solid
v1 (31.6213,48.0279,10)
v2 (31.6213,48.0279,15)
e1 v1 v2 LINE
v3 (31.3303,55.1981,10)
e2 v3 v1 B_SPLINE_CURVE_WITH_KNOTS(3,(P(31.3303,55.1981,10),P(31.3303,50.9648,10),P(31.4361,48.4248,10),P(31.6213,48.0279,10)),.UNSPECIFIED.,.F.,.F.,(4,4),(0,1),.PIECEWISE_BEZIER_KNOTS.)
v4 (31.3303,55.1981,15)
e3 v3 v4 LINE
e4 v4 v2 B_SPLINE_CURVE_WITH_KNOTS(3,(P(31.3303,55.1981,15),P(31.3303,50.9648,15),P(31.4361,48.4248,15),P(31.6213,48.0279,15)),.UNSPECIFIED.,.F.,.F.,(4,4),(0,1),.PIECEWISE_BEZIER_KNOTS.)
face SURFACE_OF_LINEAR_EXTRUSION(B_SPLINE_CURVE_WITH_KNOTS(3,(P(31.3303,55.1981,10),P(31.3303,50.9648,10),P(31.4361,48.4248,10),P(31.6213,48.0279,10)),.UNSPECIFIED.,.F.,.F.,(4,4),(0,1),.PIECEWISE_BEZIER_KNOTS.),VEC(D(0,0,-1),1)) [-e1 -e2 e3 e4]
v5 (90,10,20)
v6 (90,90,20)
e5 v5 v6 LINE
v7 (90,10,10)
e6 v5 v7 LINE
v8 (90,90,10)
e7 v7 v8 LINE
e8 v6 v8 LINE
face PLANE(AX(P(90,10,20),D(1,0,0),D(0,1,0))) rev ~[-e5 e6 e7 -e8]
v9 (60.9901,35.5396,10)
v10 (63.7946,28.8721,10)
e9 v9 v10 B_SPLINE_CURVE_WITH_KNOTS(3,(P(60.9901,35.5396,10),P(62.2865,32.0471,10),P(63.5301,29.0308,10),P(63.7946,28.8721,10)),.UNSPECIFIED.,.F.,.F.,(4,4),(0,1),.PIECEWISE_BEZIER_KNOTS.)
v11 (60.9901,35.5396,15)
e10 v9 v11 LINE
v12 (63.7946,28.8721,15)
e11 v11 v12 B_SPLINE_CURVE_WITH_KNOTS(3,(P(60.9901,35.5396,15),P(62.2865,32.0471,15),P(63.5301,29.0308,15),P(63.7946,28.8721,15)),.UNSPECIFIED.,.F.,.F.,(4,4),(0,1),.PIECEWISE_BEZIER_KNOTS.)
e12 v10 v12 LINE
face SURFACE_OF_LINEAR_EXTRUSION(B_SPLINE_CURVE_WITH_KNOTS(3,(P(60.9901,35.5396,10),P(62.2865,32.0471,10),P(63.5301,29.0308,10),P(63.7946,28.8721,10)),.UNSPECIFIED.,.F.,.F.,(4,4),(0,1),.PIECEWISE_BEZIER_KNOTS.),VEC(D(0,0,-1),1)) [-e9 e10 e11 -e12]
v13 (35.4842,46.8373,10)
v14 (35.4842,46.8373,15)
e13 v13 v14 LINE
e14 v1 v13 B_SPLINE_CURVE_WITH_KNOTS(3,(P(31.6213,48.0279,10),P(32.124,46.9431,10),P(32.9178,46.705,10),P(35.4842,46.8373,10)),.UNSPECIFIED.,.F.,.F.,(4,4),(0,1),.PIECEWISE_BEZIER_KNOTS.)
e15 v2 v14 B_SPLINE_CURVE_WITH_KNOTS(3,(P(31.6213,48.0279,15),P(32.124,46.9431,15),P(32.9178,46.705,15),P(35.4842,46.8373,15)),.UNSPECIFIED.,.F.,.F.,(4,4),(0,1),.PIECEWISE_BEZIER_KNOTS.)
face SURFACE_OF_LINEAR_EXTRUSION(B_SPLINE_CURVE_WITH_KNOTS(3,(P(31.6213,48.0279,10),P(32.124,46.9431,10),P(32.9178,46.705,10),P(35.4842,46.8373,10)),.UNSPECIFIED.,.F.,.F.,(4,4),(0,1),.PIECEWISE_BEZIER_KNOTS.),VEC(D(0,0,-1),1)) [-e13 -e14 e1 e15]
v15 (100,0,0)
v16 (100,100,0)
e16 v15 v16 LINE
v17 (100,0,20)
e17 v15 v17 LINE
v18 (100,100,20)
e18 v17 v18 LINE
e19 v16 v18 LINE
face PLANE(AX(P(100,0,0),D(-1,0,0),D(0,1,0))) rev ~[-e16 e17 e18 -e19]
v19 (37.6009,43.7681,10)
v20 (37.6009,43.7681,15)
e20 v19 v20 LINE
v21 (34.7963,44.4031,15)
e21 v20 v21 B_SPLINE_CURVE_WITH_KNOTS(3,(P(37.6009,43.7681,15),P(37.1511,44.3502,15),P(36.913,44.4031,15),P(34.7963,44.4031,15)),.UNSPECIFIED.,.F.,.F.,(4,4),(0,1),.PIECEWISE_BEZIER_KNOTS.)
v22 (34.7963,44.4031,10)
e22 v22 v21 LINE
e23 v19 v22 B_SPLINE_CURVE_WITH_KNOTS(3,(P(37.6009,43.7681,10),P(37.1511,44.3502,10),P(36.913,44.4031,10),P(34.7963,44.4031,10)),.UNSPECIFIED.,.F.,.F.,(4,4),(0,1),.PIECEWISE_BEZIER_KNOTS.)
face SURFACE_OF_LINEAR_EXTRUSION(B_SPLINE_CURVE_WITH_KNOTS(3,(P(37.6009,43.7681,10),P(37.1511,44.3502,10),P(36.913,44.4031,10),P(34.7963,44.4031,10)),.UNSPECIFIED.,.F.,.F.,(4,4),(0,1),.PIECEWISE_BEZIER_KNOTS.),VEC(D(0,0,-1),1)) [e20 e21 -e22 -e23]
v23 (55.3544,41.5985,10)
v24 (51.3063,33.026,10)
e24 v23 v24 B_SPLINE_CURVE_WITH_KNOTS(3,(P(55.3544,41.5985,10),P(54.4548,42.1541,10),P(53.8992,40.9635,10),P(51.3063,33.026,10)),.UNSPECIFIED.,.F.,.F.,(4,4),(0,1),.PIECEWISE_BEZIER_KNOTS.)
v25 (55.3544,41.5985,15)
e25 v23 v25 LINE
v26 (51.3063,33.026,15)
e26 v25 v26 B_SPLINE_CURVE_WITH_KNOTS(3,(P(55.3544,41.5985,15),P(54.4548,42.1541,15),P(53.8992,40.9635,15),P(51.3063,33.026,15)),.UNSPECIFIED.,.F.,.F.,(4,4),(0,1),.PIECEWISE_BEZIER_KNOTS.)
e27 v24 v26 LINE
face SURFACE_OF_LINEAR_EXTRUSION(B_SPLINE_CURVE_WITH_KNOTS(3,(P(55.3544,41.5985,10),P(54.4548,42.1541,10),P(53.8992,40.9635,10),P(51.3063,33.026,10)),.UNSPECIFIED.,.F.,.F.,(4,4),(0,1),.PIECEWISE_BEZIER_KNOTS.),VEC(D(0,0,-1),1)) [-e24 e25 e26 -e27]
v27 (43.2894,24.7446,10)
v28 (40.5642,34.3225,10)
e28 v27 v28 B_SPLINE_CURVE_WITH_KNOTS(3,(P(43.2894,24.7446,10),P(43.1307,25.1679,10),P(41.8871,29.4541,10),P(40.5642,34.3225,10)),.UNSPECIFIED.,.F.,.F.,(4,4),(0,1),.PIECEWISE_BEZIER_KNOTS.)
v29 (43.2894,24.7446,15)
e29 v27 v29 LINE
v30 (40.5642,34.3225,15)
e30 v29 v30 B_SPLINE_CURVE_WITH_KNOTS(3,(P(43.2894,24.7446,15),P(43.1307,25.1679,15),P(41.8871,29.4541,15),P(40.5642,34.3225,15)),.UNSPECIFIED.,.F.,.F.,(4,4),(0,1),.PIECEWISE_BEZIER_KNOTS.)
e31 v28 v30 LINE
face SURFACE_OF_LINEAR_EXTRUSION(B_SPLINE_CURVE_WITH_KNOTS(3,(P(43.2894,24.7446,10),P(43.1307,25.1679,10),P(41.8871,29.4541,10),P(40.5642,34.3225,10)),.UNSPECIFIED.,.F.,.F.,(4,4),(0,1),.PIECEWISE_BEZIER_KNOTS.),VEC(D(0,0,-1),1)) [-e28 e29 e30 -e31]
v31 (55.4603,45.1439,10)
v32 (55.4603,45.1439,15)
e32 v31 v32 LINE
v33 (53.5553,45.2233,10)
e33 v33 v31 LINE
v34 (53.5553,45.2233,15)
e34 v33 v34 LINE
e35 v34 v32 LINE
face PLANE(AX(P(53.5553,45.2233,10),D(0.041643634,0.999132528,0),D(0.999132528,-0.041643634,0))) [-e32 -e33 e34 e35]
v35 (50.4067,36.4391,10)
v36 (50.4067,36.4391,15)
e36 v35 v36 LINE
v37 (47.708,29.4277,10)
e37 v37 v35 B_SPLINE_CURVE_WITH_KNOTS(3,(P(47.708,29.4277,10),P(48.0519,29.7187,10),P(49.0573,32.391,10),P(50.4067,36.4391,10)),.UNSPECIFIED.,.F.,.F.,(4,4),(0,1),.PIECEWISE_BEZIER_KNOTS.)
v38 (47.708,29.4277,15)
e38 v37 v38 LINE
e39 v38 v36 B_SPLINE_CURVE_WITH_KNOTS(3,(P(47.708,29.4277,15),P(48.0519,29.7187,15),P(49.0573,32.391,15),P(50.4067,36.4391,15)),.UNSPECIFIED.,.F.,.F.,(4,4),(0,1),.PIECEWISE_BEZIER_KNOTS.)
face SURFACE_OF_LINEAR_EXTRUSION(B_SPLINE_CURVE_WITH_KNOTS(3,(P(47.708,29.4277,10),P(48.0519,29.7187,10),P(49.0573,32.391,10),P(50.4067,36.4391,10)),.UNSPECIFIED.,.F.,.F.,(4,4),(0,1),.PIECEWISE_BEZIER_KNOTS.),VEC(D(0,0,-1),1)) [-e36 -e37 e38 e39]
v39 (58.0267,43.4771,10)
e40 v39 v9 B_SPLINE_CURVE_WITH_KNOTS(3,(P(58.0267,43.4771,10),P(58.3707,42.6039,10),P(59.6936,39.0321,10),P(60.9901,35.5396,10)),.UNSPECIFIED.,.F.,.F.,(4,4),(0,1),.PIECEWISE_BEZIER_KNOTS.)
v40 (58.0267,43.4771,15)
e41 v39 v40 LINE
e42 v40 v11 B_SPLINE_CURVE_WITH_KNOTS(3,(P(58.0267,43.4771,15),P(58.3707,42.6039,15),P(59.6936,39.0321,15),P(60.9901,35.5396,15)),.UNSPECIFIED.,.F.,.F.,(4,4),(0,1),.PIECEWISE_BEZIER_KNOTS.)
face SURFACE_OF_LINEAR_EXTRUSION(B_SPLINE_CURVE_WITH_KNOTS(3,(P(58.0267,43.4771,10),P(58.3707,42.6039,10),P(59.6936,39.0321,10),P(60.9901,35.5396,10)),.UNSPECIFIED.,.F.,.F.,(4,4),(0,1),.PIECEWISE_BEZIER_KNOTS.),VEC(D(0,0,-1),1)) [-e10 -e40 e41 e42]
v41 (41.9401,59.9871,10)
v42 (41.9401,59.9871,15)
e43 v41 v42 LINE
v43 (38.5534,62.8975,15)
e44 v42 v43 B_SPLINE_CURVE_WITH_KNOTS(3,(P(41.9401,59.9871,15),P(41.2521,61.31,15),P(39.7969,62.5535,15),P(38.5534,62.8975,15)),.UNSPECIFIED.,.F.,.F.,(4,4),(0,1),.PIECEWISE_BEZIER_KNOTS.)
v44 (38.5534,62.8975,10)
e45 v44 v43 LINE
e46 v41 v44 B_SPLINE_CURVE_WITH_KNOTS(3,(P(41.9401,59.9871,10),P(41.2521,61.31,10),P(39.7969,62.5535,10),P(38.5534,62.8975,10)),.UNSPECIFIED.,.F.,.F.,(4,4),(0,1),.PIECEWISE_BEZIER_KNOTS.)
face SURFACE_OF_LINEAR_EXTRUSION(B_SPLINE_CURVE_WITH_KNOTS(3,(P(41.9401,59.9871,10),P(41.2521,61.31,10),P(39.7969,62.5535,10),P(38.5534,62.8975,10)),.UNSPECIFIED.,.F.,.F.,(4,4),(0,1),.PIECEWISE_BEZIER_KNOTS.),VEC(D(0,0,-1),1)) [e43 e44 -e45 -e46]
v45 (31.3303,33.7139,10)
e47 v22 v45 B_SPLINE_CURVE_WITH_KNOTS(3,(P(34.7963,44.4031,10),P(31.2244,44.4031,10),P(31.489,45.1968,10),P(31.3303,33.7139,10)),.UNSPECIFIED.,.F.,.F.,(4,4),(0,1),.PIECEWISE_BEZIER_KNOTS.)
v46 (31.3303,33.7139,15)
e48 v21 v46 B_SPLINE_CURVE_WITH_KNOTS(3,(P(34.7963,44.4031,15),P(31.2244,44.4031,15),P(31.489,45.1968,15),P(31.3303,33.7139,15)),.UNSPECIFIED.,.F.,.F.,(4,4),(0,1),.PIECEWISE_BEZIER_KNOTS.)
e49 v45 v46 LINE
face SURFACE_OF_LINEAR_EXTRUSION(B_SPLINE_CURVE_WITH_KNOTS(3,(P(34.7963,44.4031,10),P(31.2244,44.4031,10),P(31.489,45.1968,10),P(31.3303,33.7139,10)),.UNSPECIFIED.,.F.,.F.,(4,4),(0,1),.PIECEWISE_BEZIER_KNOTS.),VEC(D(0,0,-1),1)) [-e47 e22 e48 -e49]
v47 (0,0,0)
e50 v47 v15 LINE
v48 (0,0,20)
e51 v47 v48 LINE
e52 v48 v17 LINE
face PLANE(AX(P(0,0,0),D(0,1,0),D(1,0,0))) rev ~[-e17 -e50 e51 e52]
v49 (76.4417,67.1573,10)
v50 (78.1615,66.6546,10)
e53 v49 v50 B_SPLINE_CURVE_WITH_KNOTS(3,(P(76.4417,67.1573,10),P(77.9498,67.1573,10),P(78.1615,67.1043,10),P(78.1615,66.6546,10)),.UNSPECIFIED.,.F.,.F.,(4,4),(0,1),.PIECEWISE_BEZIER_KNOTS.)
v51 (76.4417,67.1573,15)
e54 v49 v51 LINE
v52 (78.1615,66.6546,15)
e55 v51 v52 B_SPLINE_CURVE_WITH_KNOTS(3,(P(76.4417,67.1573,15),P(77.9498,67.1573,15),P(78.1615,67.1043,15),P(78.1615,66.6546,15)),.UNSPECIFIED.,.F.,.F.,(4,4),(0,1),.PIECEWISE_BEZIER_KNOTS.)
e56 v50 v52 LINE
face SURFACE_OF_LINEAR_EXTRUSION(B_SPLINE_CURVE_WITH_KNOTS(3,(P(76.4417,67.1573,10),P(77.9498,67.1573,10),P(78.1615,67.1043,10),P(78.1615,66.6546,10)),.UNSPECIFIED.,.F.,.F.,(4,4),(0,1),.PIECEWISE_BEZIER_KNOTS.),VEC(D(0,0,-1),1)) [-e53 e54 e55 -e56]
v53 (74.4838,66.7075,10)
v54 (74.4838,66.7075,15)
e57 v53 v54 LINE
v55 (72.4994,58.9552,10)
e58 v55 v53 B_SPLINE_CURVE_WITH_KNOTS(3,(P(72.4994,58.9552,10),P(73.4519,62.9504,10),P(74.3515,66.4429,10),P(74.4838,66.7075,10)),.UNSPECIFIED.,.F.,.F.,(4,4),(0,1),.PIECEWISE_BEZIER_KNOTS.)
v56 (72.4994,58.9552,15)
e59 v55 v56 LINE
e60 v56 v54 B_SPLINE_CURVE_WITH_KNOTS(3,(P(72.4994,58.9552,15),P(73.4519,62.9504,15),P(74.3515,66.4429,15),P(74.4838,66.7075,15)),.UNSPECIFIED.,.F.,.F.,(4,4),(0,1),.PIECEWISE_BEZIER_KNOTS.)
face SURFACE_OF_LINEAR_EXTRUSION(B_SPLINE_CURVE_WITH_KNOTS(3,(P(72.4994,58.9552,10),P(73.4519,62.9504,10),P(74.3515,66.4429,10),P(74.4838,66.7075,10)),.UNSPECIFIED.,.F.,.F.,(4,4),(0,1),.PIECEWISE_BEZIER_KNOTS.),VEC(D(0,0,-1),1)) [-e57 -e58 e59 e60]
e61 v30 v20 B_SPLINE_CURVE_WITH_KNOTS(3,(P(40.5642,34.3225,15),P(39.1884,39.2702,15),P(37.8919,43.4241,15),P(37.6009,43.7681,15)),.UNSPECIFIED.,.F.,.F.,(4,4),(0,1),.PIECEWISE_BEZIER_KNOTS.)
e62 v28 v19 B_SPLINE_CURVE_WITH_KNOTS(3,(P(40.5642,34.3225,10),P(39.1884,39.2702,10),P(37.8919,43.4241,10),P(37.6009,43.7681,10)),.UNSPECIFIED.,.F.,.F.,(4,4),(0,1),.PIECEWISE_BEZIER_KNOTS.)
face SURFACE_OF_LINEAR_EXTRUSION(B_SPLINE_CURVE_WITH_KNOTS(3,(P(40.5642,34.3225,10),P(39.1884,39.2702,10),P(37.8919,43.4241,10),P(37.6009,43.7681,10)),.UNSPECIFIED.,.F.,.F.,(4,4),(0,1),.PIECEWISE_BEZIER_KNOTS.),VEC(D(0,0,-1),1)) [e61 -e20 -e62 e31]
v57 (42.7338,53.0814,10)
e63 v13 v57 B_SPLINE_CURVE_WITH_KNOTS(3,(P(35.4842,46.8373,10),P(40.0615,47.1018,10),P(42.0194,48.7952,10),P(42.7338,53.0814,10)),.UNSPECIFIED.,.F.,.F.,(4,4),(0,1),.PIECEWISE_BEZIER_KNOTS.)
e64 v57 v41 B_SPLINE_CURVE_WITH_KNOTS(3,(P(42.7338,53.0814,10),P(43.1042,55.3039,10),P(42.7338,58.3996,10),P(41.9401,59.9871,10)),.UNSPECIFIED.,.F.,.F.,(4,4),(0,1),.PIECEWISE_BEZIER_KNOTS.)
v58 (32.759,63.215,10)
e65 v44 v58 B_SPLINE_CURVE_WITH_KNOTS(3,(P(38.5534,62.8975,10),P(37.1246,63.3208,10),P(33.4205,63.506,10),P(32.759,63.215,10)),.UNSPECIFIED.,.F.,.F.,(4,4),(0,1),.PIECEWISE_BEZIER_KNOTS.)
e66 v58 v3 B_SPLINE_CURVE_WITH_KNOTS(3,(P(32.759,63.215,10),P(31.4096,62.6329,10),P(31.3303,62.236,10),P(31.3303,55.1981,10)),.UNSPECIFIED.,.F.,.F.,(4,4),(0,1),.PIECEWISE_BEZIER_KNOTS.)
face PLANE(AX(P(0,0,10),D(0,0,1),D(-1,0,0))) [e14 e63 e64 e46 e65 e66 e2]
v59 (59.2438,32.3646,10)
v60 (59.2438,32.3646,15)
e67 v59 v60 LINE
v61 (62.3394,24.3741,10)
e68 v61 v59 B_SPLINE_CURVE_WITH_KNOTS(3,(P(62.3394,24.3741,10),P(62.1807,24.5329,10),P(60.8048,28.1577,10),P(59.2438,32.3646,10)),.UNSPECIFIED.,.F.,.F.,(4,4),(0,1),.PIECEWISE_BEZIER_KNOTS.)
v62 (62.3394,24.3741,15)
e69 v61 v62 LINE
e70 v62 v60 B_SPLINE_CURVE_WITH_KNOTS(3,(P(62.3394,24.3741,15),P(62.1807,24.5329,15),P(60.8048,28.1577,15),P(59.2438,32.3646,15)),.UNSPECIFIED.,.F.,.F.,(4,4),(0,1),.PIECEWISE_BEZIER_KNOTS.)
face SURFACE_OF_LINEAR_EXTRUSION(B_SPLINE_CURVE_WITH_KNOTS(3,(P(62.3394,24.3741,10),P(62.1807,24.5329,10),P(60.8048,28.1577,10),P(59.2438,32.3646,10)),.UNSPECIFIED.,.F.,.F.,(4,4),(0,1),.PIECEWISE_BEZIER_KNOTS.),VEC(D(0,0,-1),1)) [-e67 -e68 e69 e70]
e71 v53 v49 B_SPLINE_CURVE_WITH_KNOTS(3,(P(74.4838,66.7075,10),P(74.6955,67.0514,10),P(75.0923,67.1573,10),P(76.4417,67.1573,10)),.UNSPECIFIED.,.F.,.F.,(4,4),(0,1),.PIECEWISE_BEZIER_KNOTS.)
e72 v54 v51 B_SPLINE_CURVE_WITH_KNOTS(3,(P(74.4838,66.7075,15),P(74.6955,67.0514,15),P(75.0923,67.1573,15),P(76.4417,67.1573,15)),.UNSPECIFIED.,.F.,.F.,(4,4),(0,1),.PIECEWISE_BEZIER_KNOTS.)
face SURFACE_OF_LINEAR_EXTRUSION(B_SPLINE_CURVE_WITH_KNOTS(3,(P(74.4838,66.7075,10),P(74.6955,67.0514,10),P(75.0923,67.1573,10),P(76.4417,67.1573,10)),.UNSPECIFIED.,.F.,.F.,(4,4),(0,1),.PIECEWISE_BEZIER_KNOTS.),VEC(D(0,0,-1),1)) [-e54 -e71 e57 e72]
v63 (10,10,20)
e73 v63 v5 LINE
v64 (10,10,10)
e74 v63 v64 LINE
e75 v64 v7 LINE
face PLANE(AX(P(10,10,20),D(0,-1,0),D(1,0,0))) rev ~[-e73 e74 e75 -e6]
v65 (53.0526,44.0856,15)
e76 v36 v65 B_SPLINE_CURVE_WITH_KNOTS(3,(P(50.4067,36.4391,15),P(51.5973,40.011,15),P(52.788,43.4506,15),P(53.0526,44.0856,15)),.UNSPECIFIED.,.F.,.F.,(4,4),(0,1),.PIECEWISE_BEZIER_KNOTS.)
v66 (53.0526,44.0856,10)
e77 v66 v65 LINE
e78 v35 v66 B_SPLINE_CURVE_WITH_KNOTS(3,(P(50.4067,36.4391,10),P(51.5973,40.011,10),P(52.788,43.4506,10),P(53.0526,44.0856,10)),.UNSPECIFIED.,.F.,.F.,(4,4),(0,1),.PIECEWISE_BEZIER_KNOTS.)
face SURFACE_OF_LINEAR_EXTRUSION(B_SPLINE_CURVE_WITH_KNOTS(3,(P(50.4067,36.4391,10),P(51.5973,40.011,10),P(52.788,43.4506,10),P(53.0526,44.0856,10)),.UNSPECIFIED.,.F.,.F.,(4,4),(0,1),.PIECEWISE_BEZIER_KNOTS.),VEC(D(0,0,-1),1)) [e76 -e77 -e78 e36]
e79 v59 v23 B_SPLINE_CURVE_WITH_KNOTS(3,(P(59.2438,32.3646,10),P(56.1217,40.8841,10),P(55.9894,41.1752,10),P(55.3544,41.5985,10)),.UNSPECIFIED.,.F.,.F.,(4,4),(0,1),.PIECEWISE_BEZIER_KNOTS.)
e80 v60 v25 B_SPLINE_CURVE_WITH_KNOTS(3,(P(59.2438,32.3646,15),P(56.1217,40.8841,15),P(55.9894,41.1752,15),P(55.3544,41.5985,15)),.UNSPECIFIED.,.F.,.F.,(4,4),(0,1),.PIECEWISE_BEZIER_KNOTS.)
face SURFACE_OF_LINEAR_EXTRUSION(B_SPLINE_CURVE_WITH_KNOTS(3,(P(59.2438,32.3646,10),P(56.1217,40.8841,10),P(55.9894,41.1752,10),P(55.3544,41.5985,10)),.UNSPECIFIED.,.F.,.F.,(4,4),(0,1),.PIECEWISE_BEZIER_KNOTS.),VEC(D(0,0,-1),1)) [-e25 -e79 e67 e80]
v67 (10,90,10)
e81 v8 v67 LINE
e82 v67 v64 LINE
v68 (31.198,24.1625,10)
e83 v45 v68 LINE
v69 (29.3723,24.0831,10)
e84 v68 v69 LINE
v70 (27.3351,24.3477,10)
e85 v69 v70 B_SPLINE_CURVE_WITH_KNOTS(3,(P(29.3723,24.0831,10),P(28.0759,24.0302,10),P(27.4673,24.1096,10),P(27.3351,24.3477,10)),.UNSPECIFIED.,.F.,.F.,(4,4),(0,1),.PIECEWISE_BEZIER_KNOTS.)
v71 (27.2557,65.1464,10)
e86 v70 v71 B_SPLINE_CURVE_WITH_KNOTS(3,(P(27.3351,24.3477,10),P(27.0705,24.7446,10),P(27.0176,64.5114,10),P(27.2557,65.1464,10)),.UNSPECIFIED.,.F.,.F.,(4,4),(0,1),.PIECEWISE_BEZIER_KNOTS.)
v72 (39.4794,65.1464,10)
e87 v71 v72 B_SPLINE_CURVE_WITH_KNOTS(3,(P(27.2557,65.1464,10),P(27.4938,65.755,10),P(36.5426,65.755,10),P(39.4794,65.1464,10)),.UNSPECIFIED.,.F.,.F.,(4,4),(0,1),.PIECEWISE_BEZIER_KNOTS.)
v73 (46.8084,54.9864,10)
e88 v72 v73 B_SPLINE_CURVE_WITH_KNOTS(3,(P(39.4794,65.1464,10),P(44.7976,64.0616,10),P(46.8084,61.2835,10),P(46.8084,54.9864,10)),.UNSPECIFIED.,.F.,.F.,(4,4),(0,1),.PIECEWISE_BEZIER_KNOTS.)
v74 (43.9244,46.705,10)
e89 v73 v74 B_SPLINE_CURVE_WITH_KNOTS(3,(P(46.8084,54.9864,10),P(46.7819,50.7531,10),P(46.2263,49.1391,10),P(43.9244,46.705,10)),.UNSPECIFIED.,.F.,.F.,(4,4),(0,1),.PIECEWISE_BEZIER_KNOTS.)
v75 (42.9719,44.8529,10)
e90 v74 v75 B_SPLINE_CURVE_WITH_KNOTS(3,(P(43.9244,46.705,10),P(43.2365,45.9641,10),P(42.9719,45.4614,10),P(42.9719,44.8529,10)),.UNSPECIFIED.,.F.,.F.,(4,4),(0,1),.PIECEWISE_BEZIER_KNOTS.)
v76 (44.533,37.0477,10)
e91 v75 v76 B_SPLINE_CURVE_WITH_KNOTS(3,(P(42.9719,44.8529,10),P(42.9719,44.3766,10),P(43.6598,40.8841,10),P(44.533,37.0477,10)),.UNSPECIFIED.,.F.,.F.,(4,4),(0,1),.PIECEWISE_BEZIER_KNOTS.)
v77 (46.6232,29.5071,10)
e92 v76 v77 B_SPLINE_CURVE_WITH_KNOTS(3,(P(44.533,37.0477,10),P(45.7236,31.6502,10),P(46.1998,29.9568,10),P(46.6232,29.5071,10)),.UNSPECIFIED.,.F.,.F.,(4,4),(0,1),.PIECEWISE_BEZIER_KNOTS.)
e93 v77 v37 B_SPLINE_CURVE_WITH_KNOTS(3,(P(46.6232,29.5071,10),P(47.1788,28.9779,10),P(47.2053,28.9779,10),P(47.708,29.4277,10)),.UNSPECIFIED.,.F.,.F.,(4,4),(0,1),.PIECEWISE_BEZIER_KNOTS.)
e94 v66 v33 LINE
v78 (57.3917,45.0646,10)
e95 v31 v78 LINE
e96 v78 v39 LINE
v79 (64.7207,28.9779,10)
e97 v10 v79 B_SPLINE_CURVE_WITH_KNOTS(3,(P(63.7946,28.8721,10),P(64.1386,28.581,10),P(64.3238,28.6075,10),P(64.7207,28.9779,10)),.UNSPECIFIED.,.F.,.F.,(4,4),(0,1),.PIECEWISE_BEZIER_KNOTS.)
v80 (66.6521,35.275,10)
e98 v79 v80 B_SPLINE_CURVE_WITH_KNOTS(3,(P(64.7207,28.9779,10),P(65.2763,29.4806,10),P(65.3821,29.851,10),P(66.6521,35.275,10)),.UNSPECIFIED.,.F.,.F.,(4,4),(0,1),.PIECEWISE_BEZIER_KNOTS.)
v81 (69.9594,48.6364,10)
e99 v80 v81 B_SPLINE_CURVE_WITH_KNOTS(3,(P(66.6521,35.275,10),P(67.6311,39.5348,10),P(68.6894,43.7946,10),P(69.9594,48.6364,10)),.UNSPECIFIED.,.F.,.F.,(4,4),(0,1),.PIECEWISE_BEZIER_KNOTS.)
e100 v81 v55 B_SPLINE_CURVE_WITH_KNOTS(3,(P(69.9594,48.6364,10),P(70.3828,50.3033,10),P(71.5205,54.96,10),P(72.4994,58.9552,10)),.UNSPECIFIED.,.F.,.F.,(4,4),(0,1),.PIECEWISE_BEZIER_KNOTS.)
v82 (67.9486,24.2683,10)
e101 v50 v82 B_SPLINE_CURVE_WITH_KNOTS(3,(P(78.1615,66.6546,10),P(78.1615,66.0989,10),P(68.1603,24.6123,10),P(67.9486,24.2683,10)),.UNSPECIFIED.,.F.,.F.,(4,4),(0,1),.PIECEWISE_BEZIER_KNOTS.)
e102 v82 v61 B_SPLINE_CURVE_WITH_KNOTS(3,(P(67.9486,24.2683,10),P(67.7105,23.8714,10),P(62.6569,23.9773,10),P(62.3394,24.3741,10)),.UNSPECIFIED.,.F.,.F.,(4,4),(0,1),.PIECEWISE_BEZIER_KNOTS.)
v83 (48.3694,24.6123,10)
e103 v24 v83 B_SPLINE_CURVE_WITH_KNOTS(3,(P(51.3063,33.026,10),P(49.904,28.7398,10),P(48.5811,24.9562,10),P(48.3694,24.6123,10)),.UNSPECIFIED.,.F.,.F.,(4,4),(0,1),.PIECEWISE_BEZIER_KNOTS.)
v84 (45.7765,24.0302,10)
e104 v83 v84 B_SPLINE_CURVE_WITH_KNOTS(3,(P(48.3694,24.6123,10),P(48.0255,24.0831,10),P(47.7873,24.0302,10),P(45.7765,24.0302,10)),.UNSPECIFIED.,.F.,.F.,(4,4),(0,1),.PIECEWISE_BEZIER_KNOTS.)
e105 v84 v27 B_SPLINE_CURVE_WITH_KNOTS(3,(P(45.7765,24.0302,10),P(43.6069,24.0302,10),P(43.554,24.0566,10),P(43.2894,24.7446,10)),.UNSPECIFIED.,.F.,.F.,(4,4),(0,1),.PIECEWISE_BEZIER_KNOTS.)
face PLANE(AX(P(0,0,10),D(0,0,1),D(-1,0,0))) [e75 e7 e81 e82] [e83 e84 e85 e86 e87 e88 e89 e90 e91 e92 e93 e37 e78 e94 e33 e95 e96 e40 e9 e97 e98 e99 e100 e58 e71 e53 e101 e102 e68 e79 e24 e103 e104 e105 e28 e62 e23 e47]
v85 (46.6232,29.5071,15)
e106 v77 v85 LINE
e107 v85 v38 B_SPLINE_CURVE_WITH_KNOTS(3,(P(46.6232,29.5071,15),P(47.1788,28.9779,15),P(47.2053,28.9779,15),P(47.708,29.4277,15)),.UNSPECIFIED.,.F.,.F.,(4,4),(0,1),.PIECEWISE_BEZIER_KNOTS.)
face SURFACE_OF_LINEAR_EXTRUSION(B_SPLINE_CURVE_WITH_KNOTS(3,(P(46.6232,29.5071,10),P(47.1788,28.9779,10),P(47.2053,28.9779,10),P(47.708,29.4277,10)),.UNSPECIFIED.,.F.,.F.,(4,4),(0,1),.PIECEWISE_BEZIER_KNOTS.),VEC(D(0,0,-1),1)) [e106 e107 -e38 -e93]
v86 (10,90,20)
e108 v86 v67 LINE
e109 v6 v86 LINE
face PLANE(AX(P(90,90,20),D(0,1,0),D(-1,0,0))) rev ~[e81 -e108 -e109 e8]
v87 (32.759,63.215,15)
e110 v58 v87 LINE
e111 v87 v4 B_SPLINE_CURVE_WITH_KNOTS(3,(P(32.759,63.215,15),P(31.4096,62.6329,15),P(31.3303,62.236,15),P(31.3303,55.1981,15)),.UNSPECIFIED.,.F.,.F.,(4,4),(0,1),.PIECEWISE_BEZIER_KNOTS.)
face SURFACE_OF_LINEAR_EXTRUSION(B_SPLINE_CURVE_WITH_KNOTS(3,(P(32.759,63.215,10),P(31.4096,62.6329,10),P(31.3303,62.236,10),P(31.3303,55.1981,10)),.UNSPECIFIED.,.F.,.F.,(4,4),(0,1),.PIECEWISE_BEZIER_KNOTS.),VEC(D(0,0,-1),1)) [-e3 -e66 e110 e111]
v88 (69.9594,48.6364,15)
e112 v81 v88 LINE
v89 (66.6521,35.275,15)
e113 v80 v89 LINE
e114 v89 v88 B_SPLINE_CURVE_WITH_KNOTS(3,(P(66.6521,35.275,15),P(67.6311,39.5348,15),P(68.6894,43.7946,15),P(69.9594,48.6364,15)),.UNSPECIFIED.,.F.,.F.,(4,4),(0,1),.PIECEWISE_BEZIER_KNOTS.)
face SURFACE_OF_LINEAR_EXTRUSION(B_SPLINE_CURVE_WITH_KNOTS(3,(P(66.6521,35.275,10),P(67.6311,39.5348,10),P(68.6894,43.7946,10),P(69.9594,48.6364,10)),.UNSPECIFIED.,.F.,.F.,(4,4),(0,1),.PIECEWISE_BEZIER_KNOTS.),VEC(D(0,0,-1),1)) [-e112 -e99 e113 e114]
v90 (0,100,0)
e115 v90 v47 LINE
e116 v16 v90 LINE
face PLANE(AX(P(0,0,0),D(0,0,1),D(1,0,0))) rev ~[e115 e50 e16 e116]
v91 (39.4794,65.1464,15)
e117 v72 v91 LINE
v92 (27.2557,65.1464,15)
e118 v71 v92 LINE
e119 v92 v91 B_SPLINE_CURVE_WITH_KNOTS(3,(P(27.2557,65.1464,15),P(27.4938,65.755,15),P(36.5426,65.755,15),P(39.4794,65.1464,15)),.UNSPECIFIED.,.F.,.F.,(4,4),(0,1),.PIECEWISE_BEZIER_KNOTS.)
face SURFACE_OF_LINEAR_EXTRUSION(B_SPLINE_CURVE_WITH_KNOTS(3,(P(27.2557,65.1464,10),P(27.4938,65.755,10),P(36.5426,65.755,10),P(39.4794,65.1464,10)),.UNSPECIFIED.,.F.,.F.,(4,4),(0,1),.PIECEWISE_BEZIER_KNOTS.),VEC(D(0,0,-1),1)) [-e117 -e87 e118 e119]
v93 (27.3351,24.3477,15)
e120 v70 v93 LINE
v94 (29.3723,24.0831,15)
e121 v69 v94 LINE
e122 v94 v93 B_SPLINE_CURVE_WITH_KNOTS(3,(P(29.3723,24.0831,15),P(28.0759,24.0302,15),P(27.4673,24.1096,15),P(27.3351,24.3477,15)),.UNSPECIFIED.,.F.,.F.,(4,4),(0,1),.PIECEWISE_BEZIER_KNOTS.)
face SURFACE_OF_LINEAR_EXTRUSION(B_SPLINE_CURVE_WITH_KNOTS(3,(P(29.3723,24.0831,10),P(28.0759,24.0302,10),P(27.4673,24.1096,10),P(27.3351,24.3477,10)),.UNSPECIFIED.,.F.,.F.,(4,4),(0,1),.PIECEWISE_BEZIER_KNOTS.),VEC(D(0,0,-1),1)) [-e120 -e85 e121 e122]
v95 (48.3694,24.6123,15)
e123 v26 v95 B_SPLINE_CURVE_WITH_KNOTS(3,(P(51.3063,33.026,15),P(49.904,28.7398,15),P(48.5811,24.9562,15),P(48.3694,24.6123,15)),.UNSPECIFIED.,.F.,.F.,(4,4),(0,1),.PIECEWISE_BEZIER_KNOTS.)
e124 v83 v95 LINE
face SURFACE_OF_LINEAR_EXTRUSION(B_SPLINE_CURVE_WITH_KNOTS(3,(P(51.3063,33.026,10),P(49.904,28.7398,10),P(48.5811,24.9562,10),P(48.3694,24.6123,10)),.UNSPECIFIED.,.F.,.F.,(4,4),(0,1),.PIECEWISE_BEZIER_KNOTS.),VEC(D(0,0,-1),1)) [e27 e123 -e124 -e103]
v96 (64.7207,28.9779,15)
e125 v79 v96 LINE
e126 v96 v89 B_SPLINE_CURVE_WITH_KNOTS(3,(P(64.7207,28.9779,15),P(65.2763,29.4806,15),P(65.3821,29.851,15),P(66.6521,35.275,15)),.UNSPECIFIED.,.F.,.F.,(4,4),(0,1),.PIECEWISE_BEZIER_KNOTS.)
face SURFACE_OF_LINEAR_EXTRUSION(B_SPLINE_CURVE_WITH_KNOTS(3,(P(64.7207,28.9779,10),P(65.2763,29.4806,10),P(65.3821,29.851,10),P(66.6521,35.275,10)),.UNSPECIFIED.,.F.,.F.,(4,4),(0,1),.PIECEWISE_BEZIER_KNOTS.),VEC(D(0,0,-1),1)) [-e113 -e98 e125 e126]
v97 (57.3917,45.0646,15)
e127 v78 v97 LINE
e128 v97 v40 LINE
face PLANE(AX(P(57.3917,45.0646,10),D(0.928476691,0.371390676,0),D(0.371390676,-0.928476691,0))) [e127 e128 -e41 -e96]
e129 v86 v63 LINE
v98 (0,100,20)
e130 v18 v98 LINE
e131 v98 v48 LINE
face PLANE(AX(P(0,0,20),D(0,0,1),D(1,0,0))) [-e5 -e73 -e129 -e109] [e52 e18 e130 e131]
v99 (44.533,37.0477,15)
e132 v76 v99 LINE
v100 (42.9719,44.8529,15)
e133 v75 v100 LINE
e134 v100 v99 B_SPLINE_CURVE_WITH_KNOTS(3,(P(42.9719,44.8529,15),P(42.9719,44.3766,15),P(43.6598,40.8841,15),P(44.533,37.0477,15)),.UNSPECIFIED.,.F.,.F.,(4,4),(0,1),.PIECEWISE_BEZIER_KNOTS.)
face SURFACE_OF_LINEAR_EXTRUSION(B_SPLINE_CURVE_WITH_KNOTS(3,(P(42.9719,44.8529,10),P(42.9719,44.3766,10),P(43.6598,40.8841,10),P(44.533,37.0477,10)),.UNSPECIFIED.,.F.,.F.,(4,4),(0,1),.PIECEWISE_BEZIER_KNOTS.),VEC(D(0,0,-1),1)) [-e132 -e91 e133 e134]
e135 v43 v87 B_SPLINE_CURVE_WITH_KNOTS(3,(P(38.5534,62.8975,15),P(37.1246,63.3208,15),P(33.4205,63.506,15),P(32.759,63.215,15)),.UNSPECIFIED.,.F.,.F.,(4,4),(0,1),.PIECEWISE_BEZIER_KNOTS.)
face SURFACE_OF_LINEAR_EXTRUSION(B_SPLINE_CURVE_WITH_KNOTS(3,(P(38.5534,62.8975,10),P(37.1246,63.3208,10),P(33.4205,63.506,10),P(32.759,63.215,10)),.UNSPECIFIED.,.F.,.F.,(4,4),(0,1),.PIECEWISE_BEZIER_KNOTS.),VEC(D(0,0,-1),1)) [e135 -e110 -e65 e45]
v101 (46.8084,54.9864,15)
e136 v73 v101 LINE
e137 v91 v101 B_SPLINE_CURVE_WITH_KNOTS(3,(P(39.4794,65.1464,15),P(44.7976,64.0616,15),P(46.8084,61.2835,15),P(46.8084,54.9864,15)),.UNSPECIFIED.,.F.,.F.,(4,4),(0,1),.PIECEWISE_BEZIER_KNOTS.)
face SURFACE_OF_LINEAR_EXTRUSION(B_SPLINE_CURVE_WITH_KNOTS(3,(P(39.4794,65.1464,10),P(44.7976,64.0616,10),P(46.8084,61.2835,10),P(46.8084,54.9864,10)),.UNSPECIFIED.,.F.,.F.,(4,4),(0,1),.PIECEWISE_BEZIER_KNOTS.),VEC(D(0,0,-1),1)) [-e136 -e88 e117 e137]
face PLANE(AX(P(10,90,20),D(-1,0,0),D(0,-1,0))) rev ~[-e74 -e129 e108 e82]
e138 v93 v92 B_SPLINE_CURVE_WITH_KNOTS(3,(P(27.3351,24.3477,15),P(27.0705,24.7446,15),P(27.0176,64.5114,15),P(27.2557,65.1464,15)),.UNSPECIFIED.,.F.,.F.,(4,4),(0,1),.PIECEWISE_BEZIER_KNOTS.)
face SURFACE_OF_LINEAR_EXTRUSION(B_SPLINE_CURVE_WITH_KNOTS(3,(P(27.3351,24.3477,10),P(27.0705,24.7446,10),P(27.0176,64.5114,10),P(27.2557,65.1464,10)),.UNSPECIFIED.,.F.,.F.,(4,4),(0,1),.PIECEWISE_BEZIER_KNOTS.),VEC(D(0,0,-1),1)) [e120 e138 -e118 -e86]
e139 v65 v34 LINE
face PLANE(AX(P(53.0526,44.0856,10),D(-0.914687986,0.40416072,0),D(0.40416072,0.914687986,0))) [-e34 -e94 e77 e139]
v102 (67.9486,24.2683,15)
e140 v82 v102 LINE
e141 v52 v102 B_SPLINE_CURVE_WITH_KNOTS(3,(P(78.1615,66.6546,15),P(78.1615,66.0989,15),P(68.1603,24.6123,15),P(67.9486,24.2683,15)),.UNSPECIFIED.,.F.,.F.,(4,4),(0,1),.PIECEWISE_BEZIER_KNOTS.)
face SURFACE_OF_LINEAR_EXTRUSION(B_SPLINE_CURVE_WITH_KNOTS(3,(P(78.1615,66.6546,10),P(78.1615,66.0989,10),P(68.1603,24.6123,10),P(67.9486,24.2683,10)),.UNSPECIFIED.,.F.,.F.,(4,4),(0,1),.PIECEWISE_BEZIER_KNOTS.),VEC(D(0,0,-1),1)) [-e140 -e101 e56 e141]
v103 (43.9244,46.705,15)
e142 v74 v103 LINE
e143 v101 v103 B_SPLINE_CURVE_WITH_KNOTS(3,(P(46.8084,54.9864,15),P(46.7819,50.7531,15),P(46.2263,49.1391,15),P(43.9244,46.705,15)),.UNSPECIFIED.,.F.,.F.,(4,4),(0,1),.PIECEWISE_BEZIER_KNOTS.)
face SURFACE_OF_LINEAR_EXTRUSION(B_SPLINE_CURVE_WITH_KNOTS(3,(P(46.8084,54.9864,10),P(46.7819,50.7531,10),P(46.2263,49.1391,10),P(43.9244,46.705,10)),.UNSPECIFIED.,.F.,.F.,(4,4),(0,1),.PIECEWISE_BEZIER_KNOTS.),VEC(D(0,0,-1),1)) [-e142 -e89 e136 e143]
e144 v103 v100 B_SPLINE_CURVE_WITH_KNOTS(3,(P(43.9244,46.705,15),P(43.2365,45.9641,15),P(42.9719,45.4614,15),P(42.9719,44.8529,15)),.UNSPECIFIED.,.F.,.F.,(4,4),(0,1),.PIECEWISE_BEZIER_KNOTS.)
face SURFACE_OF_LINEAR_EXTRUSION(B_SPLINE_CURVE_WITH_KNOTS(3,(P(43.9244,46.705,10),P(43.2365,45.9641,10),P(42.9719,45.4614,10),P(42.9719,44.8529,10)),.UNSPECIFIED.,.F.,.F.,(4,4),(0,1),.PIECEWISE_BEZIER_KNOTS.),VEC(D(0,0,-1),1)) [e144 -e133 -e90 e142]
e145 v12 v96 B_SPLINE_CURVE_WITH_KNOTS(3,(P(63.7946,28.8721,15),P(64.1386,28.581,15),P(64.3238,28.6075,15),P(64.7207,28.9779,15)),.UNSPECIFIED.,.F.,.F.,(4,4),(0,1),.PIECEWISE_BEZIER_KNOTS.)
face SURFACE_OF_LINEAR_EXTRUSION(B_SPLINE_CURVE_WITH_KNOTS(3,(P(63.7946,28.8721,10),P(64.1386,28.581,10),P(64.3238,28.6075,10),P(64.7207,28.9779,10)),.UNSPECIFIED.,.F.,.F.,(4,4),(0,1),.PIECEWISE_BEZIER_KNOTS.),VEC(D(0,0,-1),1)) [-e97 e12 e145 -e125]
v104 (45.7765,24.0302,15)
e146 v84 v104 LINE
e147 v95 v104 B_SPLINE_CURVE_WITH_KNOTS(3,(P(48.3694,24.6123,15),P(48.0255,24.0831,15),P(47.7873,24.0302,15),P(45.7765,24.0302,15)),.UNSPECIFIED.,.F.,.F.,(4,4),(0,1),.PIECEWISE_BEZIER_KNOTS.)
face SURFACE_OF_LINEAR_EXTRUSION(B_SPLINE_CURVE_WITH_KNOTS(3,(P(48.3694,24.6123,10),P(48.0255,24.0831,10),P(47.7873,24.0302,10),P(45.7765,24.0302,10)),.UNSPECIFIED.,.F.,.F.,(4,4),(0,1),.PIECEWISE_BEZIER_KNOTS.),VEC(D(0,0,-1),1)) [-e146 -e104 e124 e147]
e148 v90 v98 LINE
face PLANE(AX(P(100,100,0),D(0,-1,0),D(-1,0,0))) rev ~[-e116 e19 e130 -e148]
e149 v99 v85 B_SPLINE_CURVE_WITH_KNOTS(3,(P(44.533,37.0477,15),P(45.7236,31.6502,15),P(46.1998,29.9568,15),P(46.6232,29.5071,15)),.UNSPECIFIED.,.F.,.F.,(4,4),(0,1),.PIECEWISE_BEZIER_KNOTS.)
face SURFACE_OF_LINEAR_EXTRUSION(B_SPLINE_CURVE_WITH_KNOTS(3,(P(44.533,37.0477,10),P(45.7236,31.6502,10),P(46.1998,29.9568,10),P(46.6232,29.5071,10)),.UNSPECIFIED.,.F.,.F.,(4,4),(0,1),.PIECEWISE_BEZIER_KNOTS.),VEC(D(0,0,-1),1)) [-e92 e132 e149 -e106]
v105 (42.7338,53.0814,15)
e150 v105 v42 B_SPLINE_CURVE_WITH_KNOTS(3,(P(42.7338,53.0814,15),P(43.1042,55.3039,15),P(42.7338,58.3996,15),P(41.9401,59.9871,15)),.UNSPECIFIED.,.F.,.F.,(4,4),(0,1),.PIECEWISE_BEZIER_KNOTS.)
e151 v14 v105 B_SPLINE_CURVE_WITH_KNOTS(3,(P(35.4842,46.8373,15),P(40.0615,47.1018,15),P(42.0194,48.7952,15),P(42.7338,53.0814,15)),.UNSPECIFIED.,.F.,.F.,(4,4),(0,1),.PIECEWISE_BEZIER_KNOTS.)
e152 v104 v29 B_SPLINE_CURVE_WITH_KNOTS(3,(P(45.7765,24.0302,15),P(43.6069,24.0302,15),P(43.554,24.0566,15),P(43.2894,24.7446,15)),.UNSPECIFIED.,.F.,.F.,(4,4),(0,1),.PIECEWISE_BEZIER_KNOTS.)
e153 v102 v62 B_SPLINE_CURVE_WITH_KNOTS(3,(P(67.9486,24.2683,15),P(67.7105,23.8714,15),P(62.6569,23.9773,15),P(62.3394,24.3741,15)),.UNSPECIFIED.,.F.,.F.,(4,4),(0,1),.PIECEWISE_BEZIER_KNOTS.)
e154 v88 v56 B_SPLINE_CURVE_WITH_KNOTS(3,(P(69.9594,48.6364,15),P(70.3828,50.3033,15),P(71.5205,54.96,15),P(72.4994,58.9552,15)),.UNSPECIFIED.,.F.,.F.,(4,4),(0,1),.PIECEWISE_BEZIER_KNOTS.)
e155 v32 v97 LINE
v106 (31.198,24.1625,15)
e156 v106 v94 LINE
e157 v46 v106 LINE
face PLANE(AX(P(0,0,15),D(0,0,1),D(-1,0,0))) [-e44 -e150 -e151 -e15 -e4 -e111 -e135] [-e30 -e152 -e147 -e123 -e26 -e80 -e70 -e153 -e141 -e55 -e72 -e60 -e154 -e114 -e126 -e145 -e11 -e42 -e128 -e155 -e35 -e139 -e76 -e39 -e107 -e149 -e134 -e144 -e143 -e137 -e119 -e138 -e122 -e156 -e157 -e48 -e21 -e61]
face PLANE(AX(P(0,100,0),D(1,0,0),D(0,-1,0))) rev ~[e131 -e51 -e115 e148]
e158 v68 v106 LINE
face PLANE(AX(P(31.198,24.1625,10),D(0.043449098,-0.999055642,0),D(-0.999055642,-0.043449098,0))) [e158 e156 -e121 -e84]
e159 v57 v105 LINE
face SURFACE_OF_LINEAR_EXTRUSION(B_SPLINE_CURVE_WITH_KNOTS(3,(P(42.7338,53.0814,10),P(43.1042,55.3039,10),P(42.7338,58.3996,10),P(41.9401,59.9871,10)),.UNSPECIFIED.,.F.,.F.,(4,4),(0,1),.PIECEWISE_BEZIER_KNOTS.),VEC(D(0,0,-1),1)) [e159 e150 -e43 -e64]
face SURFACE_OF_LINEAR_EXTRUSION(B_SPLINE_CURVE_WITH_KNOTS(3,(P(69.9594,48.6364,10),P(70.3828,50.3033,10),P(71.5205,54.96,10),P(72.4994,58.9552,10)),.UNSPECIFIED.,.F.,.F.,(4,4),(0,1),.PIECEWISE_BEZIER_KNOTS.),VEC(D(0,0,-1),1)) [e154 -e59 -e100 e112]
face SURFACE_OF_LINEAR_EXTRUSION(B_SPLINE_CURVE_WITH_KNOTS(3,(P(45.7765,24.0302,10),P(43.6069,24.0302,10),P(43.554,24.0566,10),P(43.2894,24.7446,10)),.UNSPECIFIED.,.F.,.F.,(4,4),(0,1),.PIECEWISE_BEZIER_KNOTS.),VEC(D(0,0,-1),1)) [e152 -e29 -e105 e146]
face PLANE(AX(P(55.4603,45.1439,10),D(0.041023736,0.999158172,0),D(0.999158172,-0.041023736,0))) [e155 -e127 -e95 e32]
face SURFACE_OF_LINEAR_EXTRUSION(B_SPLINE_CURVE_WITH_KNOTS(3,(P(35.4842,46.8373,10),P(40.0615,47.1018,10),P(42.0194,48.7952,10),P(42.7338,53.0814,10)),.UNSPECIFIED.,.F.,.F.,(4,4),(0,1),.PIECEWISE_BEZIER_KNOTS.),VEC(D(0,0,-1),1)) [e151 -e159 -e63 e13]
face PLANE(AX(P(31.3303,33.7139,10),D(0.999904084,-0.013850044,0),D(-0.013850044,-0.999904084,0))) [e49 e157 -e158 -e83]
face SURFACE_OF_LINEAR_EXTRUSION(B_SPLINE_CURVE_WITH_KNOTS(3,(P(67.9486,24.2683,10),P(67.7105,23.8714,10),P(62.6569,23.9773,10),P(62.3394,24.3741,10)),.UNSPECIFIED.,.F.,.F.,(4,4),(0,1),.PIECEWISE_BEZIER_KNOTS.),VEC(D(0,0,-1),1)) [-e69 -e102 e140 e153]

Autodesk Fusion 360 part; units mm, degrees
sketch "Sketch2" plane through (0, 0, 0) normal (0, 0, 1) x (1, 0, 0)
  line L0 (0, 0) -> (100, 0)
  line L1 (100, 0) -> (100, 100)
  line L2 (100, 100) -> (0, 100)
  line L3 (0, 100) -> (0, 0)
extrude "Extrude3" add sketch "Sketch2" along normal blind 20
sketch "Sketch3" plane through (0, 0, 20) normal (0, 0, 1) x (-1, 0, 0)
  line L0 (0, -100) -> (0, 0)
  line L1 (0, 0) -> (-100, 0)
  line L2 (-100, 0) -> (-100, -100)
  line L3 (-100, -100) -> (0, -100)
  line L4 (-10, -10) -> (-90, -10)
  line L5 (-90, -10) -> (-90, -90)
  line L6 (-90, -90) -> (-10, -90)
  line L7 (-10, -90) -> (-10, -10)
extrude "Extrude4" cut sketch "Sketch3" against normal blind 10 contours L4 L5 L6 L7
sketch "Sketch4" plane through (0, 0, 10) normal (0, 0, 1) x (-1, 0, 0)
  line L0 (-10, -90) -> (-10, -10)
  line L1 (-10, -10) -> (-90, -10)
  line L2 (-90, -10) -> (-90, -90)
  line L3 (-90, -90) -> (-10, -90)
  spline S0 degree 3 poles (-75.4628, -68.295) (-73.8753, -68.1891) (-73.6636, -68.1362) (-73.5313, -67.6071) knots 0 0 0 0 1 1 1 1
  spline S1 degree 3 poles (-73.5313, -67.6071) (-72.473, -63.0562) (-68.3455, -46.4404) (-68.1338, -45.8583) knots 0 0 0 0 1 1 1 1
  spline S2 degree 3 poles (-68.1338, -45.8583) (-67.7369, -44.7471) (-64.7736, -31.8618) (-64.5355, -30.3008) knots 0 0 0 0 1 1 1 1
  spline S3 degree 3 poles (-64.5355, -30.3008) (-64.3503, -28.8456) (-64.0063, -28.8456) (-63.8211, -30.3273) knots 0 0 0 0 1 1 1 1
  spline S4 degree 3 poles (-63.8211, -30.3273) (-63.7417, -30.8829) (-62.4453, -34.6929) (-60.9371, -38.7939) knots 0 0 0 0 1 1 1 1
  line L4 (-60.9371, -38.7939) -> (-58.1855, -46.2552)
  line L5 (-58.1855, -46.2552) -> (-55.4073, -46.2552)
  line L6 (-55.4073, -46.2552) -> (-52.6028, -46.2552)
  line L7 (-52.6028, -46.2552) -> (-50.0363, -38.4764)
  spline S5 degree 3 poles (-50.0363, -38.4764) (-48.634, -34.2166) (-47.4698, -30.4596) (-47.4698, -30.1421) knots 0 0 0 0 1 1 1 1
  spline S6 degree 3 poles (-47.4698, -30.1421) (-47.4698, -29.0308) (-46.9936, -29.6129) (-46.8348, -30.9887) knots 0 0 0 0 1 1 1 1
  spline S7 degree 3 poles (-46.8348, -30.9887) (-46.729, -31.7296) (-45.9882, -35.275) (-45.1944, -38.8204) knots 0 0 0 0 1 1 1 1
  line L8 (-45.1944, -38.8204) -> (-43.7657, -45.2762)
  line L9 (-43.7657, -45.2762) -> (-44.824, -46.1758)
  spline S8 degree 3 poles (-44.824, -46.1758) (-46.3057, -47.4723) (-47.1523, -49.0333) (-47.6021, -51.4146) knots 0 0 0 0 1 1 1 1
  spline S9 degree 3 poles (-47.6021, -51.4146) (-48.0784, -53.7958) (-48.1048, -55.8066) (-47.708, -58.1614) knots 0 0 0 0 1 1 1 1
  spline S10 degree 3 poles (-47.708, -58.1614) (-47.1788, -61.5216) (-45.7765, -63.6648) (-43.263, -65.0141) knots 0 0 0 0 1 1 1 1
  spline S11 degree 3 poles (-43.263, -65.0141) (-40.8288, -66.3106) (-38.5269, -66.6281) (-31.833, -66.6281) knots 0 0 0 0 1 1 1 1
  line L10 (-31.833, -66.6281) -> (-26.0386, -66.6281)
  line L11 (-26.0386, -66.6281) -> (-26.0386, -44.8)
  line L12 (-26.0386, -44.8) -> (-26.0386, -22.9718)
  line L13 (-26.0386, -22.9718) -> (-29.2136, -22.9718)
  line L14 (-29.2136, -22.9718) -> (-32.3886, -22.9718)
  line L15 (-32.3886, -22.9718) -> (-32.3886, -33.2377)
  line L16 (-32.3886, -33.2377) -> (-32.3886, -43.4771)
  line L17 (-32.3886, -43.4771) -> (-34.6905, -43.4241)
  line L18 (-34.6905, -43.4241) -> (-36.9659, -43.3712)
  line L19 (-36.9659, -43.3712) -> (-39.7969, -33.2377)
  line L20 (-39.7969, -33.2377) -> (-42.6015, -23.1041)
  line L21 (-42.6015, -23.1041) -> (-45.803, -23.0248)
  line L22 (-45.803, -23.0248) -> (-48.978, -22.9454)
  line L23 (-48.978, -22.9454) -> (-51.6503, -30.83)
  spline S12 degree 3 poles (-51.6503, -30.83) (-53.1319, -35.1691) (-54.4019, -39.085) (-54.5078, -39.5083) knots 0 0 0 0 1 1 1 1
  spline S13 degree 3 poles (-54.5078, -39.5083) (-54.8517, -41.1752) (-54.9311, -41.3339) (-55.1692, -40.9371) knots 0 0 0 0 1 1 1 1
  spline S14 degree 3 poles (-55.1692, -40.9371) (-55.3015, -40.7254) (-55.4073, -40.355) (-55.4073, -40.0904) knots 0 0 0 0 1 1 1 1
  spline S15 degree 3 poles (-55.4073, -40.0904) (-55.4073, -39.8258) (-56.8096, -35.8835) (-58.503, -31.3062) knots 0 0 0 0 1 1 1 1
  line L24 (-58.503, -31.3062) -> (-61.5986, -22.9983)
  line L25 (-61.5986, -22.9983) -> (-65.144, -22.9189)
  spline S16 degree 3 poles (-65.144, -22.9189) (-67.1019, -22.866) (-68.7159, -22.8925) (-68.7688, -22.9718) knots 0 0 0 0 1 1 1 1
  spline S17 degree 3 poles (-68.7688, -22.9718) (-68.8482, -23.1306) (-79.749, -68.1098) (-79.749, -68.3214) knots 0 0 0 0 1 1 1 1
  spline S18 degree 3 poles (-79.749, -68.3214) (-79.749, -68.4802) (-79.0346, -68.4802) (-75.4628, -68.295) knots 0 0 0 0 1 1 1 1
  spline S19 degree 3 poles (-78.1615, -66.6546) (-78.1615, -66.0989) (-68.1603, -24.6123) (-67.9486, -24.2683) knots 0 0 0 0 1 1 1 1
  spline S20 degree 3 poles (-67.9486, -24.2683) (-67.7105, -23.8714) (-62.6569, -23.9773) (-62.3394, -24.3741) knots 0 0 0 0 1 1 1 1
  spline S21 degree 3 poles (-62.3394, -24.3741) (-62.1807, -24.5329) (-60.8048, -28.1577) (-59.2438, -32.3646) knots 0 0 0 0 1 1 1 1
  spline S22 degree 3 poles (-59.2438, -32.3646) (-56.1217, -40.8841) (-55.9894, -41.1752) (-55.3544, -41.5985) knots 0 0 0 0 1 1 1 1
  spline S23 degree 3 poles (-55.3544, -41.5985) (-54.4548, -42.1541) (-53.8992, -40.9635) (-51.3063, -33.026) knots 0 0 0 0 1 1 1 1
  spline S24 degree 3 poles (-51.3063, -33.026) (-49.904, -28.7398) (-48.5811, -24.9562) (-48.3694, -24.6123) knots 0 0 0 0 1 1 1 1
  spline S25 degree 3 poles (-48.3694, -24.6123) (-48.0255, -24.0831) (-47.7873, -24.0302) (-45.7765, -24.0302) knots 0 0 0 0 1 1 1 1
  spline S26 degree 3 poles (-45.7765, -24.0302) (-43.6069, -24.0302) (-43.554, -24.0566) (-43.2894, -24.7446) knots 0 0 0 0 1 1 1 1
  spline S27 degree 3 poles (-43.2894, -24.7446) (-43.1307, -25.1679) (-41.8871, -29.4541) (-40.5642, -34.3225) knots 0 0 0 0 1 1 1 1
  spline S28 degree 3 poles (-40.5642, -34.3225) (-39.1884, -39.2702) (-37.8919, -43.4241) (-37.6009, -43.7681) knots 0 0 0 0 1 1 1 1
  spline S29 degree 3 poles (-37.6009, -43.7681) (-37.1511, -44.3502) (-36.913, -44.4031) (-34.7963, -44.4031) knots 0 0 0 0 1 1 1 1
  spline S30 degree 3 poles (-34.7963, -44.4031) (-31.2244, -44.4031) (-31.489, -45.1968) (-31.3303, -33.7139) knots 0 0 0 0 1 1 1 1
  line L26 (-31.3303, -33.7139) -> (-31.198, -24.1625)
  line L27 (-31.198, -24.1625) -> (-29.3723, -24.0831)
  spline S31 degree 3 poles (-29.3723, -24.0831) (-28.0759, -24.0302) (-27.4673, -24.1096) (-27.3351, -24.3477) knots 0 0 0 0 1 1 1 1
  spline S32 degree 3 poles (-27.3351, -24.3477) (-27.0705, -24.7446) (-27.0176, -64.5114) (-27.2557, -65.1464) knots 0 0 0 0 1 1 1 1
  spline S33 degree 3 poles (-27.2557, -65.1464) (-27.4938, -65.755) (-36.5426, -65.755) (-39.4794, -65.1464) knots 0 0 0 0 1 1 1 1
  spline S34 degree 3 poles (-39.4794, -65.1464) (-44.7976, -64.0616) (-46.8084, -61.2835) (-46.8084, -54.9864) knots 0 0 0 0 1 1 1 1
  spline S35 degree 3 poles (-46.8084, -54.9864) (-46.7819, -50.7531) (-46.2263, -49.1391) (-43.9244, -46.705) knots 0 0 0 0 1 1 1 1
  spline S36 degree 3 poles (-43.9244, -46.705) (-43.2365, -45.9641) (-42.9719, -45.4614) (-42.9719, -44.8529) knots 0 0 0 0 1 1 1 1
  spline S37 degree 3 poles (-42.9719, -44.8529) (-42.9719, -44.3766) (-43.6598, -40.8841) (-44.533, -37.0477) knots 0 0 0 0 1 1 1 1
  spline S38 degree 3 poles (-44.533, -37.0477) (-45.7236, -31.6502) (-46.1998, -29.9568) (-46.6232, -29.5071) knots 0 0 0 0 1 1 1 1
  spline S39 degree 3 poles (-46.6232, -29.5071) (-47.1788, -28.9779) (-47.2053, -28.9779) (-47.708, -29.4277) knots 0 0 0 0 1 1 1 1
  spline S40 degree 3 poles (-47.708, -29.4277) (-48.0519, -29.7187) (-49.0573, -32.391) (-50.4067, -36.4391) knots 0 0 0 0 1 1 1 1
  spline S41 degree 3 poles (-50.4067, -36.4391) (-51.5973, -40.011) (-52.788, -43.4506) (-53.0526, -44.0856) knots 0 0 0 0 1 1 1 1
  line L28 (-53.0526, -44.0856) -> (-53.5553, -45.2233)
  line L29 (-53.5553, -45.2233) -> (-55.4603, -45.1439)
  line L30 (-55.4603, -45.1439) -> (-57.3917, -45.0646)
  line L31 (-57.3917, -45.0646) -> (-58.0267, -43.4771)
  spline S42 degree 3 poles (-58.0267, -43.4771) (-58.3707, -42.6039) (-59.6936, -39.0321) (-60.9901, -35.5396) knots 0 0 0 0 1 1 1 1
  spline S43 degree 3 poles (-60.9901, -35.5396) (-62.2865, -32.0471) (-63.5301, -29.0308) (-63.7946, -28.8721) knots 0 0 0 0 1 1 1 1
  spline S44 degree 3 poles (-63.7946, -28.8721) (-64.1386, -28.581) (-64.3238, -28.6075) (-64.7207, -28.9779) knots 0 0 0 0 1 1 1 1
  spline S45 degree 3 poles (-64.7207, -28.9779) (-65.2763, -29.4806) (-65.3821, -29.851) (-66.6521, -35.275) knots 0 0 0 0 1 1 1 1
  spline S46 degree 3 poles (-66.6521, -35.275) (-67.6311, -39.5348) (-68.6894, -43.7946) (-69.9594, -48.6364) knots 0 0 0 0 1 1 1 1
  spline S47 degree 3 poles (-69.9594, -48.6364) (-70.3828, -50.3033) (-71.5205, -54.96) (-72.4994, -58.9552) knots 0 0 0 0 1 1 1 1
  spline S48 degree 3 poles (-72.4994, -58.9552) (-73.4519, -62.9504) (-74.3515, -66.4429) (-74.4838, -66.7075) knots 0 0 0 0 1 1 1 1
  spline S49 degree 3 poles (-74.4838, -66.7075) (-74.6955, -67.0514) (-75.0923, -67.1573) (-76.4417, -67.1573) knots 0 0 0 0 1 1 1 1
  spline S50 degree 3 poles (-76.4417, -67.1573) (-77.9498, -67.1573) (-78.1615, -67.1043) (-78.1615, -66.6546) knots 0 0 0 0 1 1 1 1
  spline S51 degree 3 poles (-32.759, -63.215) (-31.4096, -62.6329) (-31.3303, -62.236) (-31.3303, -55.1981) knots 0 0 0 0 1 1 1 1
  spline S52 degree 3 poles (-31.3303, -55.1981) (-31.3303, -50.9648) (-31.4361, -48.4248) (-31.6213, -48.0279) knots 0 0 0 0 1 1 1 1
  spline S53 degree 3 poles (-31.6213, -48.0279) (-32.124, -46.9431) (-32.9178, -46.705) (-35.4842, -46.8373) knots 0 0 0 0 1 1 1 1
  spline S54 degree 3 poles (-35.4842, -46.8373) (-40.0615, -47.1018) (-42.0194, -48.7952) (-42.7338, -53.0814) knots 0 0 0 0 1 1 1 1
  spline S55 degree 3 poles (-42.7338, -53.0814) (-43.1042, -55.3039) (-42.7338, -58.3996) (-41.9401, -59.9871) knots 0 0 0 0 1 1 1 1
  spline S56 degree 3 poles (-41.9401, -59.9871) (-41.2521, -61.31) (-39.7969, -62.5535) (-38.5534, -62.8975) knots 0 0 0 0 1 1 1 1
  spline S57 degree 3 poles (-38.5534, -62.8975) (-37.1246, -63.3208) (-33.4205, -63.506) (-32.759, -63.215) knots 0 0 0 0 1 1 1 1
  spline S58 degree 3 poles (-38.2359, -61.8656) (-39.6911, -61.4687) (-40.9876, -60.1723) (-41.4109, -58.6641) knots 0 0 0 0 1 1 1 1
  spline S59 degree 3 poles (-41.4109, -58.6641) (-41.5961, -58.0291) (-41.7548, -56.3093) (-41.7548, -54.8277) knots 0 0 0 0 1 1 1 1
  spline S60 degree 3 poles (-41.7548, -54.8277) (-41.7548, -52.5523) (-41.649, -51.9966) (-41.0934, -50.8589) knots 0 0 0 0 1 1 1 1
  spline S61 degree 3 poles (-41.0934, -50.8589) (-40.0351, -48.7158) (-38.0771, -47.8427) (-34.2407, -47.8427) knots 0 0 0 0 1 1 1 1
  line L32 (-34.2407, -47.8427) -> (-32.3886, -47.8427)
  line L33 (-32.3886, -47.8427) -> (-32.3886, -55.0923)
  line L34 (-32.3886, -55.0923) -> (-32.3886, -62.3418)
  line L35 (-32.3886, -62.3418) -> (-34.7434, -62.2625)
  spline S62 degree 3 poles (-34.7434, -62.2625) (-36.0398, -62.2096) (-37.6009, -62.0243) (-38.2359, -61.8656) knots 0 0 0 0 1 1 1 1
extrude "Extrude5" add sketch "Sketch4" along normal blind 5 contours S19 S20 S21 S22 S23 S24 S25 S26 S27 S28 S29 S30 L26 L27 S31 S32 S33 S34 S35 S36 S37 S38 S39 S40 S41 L28 L29 L30 L31 S42 S43 S44 S45 S46 S47 S48 S49 S50
